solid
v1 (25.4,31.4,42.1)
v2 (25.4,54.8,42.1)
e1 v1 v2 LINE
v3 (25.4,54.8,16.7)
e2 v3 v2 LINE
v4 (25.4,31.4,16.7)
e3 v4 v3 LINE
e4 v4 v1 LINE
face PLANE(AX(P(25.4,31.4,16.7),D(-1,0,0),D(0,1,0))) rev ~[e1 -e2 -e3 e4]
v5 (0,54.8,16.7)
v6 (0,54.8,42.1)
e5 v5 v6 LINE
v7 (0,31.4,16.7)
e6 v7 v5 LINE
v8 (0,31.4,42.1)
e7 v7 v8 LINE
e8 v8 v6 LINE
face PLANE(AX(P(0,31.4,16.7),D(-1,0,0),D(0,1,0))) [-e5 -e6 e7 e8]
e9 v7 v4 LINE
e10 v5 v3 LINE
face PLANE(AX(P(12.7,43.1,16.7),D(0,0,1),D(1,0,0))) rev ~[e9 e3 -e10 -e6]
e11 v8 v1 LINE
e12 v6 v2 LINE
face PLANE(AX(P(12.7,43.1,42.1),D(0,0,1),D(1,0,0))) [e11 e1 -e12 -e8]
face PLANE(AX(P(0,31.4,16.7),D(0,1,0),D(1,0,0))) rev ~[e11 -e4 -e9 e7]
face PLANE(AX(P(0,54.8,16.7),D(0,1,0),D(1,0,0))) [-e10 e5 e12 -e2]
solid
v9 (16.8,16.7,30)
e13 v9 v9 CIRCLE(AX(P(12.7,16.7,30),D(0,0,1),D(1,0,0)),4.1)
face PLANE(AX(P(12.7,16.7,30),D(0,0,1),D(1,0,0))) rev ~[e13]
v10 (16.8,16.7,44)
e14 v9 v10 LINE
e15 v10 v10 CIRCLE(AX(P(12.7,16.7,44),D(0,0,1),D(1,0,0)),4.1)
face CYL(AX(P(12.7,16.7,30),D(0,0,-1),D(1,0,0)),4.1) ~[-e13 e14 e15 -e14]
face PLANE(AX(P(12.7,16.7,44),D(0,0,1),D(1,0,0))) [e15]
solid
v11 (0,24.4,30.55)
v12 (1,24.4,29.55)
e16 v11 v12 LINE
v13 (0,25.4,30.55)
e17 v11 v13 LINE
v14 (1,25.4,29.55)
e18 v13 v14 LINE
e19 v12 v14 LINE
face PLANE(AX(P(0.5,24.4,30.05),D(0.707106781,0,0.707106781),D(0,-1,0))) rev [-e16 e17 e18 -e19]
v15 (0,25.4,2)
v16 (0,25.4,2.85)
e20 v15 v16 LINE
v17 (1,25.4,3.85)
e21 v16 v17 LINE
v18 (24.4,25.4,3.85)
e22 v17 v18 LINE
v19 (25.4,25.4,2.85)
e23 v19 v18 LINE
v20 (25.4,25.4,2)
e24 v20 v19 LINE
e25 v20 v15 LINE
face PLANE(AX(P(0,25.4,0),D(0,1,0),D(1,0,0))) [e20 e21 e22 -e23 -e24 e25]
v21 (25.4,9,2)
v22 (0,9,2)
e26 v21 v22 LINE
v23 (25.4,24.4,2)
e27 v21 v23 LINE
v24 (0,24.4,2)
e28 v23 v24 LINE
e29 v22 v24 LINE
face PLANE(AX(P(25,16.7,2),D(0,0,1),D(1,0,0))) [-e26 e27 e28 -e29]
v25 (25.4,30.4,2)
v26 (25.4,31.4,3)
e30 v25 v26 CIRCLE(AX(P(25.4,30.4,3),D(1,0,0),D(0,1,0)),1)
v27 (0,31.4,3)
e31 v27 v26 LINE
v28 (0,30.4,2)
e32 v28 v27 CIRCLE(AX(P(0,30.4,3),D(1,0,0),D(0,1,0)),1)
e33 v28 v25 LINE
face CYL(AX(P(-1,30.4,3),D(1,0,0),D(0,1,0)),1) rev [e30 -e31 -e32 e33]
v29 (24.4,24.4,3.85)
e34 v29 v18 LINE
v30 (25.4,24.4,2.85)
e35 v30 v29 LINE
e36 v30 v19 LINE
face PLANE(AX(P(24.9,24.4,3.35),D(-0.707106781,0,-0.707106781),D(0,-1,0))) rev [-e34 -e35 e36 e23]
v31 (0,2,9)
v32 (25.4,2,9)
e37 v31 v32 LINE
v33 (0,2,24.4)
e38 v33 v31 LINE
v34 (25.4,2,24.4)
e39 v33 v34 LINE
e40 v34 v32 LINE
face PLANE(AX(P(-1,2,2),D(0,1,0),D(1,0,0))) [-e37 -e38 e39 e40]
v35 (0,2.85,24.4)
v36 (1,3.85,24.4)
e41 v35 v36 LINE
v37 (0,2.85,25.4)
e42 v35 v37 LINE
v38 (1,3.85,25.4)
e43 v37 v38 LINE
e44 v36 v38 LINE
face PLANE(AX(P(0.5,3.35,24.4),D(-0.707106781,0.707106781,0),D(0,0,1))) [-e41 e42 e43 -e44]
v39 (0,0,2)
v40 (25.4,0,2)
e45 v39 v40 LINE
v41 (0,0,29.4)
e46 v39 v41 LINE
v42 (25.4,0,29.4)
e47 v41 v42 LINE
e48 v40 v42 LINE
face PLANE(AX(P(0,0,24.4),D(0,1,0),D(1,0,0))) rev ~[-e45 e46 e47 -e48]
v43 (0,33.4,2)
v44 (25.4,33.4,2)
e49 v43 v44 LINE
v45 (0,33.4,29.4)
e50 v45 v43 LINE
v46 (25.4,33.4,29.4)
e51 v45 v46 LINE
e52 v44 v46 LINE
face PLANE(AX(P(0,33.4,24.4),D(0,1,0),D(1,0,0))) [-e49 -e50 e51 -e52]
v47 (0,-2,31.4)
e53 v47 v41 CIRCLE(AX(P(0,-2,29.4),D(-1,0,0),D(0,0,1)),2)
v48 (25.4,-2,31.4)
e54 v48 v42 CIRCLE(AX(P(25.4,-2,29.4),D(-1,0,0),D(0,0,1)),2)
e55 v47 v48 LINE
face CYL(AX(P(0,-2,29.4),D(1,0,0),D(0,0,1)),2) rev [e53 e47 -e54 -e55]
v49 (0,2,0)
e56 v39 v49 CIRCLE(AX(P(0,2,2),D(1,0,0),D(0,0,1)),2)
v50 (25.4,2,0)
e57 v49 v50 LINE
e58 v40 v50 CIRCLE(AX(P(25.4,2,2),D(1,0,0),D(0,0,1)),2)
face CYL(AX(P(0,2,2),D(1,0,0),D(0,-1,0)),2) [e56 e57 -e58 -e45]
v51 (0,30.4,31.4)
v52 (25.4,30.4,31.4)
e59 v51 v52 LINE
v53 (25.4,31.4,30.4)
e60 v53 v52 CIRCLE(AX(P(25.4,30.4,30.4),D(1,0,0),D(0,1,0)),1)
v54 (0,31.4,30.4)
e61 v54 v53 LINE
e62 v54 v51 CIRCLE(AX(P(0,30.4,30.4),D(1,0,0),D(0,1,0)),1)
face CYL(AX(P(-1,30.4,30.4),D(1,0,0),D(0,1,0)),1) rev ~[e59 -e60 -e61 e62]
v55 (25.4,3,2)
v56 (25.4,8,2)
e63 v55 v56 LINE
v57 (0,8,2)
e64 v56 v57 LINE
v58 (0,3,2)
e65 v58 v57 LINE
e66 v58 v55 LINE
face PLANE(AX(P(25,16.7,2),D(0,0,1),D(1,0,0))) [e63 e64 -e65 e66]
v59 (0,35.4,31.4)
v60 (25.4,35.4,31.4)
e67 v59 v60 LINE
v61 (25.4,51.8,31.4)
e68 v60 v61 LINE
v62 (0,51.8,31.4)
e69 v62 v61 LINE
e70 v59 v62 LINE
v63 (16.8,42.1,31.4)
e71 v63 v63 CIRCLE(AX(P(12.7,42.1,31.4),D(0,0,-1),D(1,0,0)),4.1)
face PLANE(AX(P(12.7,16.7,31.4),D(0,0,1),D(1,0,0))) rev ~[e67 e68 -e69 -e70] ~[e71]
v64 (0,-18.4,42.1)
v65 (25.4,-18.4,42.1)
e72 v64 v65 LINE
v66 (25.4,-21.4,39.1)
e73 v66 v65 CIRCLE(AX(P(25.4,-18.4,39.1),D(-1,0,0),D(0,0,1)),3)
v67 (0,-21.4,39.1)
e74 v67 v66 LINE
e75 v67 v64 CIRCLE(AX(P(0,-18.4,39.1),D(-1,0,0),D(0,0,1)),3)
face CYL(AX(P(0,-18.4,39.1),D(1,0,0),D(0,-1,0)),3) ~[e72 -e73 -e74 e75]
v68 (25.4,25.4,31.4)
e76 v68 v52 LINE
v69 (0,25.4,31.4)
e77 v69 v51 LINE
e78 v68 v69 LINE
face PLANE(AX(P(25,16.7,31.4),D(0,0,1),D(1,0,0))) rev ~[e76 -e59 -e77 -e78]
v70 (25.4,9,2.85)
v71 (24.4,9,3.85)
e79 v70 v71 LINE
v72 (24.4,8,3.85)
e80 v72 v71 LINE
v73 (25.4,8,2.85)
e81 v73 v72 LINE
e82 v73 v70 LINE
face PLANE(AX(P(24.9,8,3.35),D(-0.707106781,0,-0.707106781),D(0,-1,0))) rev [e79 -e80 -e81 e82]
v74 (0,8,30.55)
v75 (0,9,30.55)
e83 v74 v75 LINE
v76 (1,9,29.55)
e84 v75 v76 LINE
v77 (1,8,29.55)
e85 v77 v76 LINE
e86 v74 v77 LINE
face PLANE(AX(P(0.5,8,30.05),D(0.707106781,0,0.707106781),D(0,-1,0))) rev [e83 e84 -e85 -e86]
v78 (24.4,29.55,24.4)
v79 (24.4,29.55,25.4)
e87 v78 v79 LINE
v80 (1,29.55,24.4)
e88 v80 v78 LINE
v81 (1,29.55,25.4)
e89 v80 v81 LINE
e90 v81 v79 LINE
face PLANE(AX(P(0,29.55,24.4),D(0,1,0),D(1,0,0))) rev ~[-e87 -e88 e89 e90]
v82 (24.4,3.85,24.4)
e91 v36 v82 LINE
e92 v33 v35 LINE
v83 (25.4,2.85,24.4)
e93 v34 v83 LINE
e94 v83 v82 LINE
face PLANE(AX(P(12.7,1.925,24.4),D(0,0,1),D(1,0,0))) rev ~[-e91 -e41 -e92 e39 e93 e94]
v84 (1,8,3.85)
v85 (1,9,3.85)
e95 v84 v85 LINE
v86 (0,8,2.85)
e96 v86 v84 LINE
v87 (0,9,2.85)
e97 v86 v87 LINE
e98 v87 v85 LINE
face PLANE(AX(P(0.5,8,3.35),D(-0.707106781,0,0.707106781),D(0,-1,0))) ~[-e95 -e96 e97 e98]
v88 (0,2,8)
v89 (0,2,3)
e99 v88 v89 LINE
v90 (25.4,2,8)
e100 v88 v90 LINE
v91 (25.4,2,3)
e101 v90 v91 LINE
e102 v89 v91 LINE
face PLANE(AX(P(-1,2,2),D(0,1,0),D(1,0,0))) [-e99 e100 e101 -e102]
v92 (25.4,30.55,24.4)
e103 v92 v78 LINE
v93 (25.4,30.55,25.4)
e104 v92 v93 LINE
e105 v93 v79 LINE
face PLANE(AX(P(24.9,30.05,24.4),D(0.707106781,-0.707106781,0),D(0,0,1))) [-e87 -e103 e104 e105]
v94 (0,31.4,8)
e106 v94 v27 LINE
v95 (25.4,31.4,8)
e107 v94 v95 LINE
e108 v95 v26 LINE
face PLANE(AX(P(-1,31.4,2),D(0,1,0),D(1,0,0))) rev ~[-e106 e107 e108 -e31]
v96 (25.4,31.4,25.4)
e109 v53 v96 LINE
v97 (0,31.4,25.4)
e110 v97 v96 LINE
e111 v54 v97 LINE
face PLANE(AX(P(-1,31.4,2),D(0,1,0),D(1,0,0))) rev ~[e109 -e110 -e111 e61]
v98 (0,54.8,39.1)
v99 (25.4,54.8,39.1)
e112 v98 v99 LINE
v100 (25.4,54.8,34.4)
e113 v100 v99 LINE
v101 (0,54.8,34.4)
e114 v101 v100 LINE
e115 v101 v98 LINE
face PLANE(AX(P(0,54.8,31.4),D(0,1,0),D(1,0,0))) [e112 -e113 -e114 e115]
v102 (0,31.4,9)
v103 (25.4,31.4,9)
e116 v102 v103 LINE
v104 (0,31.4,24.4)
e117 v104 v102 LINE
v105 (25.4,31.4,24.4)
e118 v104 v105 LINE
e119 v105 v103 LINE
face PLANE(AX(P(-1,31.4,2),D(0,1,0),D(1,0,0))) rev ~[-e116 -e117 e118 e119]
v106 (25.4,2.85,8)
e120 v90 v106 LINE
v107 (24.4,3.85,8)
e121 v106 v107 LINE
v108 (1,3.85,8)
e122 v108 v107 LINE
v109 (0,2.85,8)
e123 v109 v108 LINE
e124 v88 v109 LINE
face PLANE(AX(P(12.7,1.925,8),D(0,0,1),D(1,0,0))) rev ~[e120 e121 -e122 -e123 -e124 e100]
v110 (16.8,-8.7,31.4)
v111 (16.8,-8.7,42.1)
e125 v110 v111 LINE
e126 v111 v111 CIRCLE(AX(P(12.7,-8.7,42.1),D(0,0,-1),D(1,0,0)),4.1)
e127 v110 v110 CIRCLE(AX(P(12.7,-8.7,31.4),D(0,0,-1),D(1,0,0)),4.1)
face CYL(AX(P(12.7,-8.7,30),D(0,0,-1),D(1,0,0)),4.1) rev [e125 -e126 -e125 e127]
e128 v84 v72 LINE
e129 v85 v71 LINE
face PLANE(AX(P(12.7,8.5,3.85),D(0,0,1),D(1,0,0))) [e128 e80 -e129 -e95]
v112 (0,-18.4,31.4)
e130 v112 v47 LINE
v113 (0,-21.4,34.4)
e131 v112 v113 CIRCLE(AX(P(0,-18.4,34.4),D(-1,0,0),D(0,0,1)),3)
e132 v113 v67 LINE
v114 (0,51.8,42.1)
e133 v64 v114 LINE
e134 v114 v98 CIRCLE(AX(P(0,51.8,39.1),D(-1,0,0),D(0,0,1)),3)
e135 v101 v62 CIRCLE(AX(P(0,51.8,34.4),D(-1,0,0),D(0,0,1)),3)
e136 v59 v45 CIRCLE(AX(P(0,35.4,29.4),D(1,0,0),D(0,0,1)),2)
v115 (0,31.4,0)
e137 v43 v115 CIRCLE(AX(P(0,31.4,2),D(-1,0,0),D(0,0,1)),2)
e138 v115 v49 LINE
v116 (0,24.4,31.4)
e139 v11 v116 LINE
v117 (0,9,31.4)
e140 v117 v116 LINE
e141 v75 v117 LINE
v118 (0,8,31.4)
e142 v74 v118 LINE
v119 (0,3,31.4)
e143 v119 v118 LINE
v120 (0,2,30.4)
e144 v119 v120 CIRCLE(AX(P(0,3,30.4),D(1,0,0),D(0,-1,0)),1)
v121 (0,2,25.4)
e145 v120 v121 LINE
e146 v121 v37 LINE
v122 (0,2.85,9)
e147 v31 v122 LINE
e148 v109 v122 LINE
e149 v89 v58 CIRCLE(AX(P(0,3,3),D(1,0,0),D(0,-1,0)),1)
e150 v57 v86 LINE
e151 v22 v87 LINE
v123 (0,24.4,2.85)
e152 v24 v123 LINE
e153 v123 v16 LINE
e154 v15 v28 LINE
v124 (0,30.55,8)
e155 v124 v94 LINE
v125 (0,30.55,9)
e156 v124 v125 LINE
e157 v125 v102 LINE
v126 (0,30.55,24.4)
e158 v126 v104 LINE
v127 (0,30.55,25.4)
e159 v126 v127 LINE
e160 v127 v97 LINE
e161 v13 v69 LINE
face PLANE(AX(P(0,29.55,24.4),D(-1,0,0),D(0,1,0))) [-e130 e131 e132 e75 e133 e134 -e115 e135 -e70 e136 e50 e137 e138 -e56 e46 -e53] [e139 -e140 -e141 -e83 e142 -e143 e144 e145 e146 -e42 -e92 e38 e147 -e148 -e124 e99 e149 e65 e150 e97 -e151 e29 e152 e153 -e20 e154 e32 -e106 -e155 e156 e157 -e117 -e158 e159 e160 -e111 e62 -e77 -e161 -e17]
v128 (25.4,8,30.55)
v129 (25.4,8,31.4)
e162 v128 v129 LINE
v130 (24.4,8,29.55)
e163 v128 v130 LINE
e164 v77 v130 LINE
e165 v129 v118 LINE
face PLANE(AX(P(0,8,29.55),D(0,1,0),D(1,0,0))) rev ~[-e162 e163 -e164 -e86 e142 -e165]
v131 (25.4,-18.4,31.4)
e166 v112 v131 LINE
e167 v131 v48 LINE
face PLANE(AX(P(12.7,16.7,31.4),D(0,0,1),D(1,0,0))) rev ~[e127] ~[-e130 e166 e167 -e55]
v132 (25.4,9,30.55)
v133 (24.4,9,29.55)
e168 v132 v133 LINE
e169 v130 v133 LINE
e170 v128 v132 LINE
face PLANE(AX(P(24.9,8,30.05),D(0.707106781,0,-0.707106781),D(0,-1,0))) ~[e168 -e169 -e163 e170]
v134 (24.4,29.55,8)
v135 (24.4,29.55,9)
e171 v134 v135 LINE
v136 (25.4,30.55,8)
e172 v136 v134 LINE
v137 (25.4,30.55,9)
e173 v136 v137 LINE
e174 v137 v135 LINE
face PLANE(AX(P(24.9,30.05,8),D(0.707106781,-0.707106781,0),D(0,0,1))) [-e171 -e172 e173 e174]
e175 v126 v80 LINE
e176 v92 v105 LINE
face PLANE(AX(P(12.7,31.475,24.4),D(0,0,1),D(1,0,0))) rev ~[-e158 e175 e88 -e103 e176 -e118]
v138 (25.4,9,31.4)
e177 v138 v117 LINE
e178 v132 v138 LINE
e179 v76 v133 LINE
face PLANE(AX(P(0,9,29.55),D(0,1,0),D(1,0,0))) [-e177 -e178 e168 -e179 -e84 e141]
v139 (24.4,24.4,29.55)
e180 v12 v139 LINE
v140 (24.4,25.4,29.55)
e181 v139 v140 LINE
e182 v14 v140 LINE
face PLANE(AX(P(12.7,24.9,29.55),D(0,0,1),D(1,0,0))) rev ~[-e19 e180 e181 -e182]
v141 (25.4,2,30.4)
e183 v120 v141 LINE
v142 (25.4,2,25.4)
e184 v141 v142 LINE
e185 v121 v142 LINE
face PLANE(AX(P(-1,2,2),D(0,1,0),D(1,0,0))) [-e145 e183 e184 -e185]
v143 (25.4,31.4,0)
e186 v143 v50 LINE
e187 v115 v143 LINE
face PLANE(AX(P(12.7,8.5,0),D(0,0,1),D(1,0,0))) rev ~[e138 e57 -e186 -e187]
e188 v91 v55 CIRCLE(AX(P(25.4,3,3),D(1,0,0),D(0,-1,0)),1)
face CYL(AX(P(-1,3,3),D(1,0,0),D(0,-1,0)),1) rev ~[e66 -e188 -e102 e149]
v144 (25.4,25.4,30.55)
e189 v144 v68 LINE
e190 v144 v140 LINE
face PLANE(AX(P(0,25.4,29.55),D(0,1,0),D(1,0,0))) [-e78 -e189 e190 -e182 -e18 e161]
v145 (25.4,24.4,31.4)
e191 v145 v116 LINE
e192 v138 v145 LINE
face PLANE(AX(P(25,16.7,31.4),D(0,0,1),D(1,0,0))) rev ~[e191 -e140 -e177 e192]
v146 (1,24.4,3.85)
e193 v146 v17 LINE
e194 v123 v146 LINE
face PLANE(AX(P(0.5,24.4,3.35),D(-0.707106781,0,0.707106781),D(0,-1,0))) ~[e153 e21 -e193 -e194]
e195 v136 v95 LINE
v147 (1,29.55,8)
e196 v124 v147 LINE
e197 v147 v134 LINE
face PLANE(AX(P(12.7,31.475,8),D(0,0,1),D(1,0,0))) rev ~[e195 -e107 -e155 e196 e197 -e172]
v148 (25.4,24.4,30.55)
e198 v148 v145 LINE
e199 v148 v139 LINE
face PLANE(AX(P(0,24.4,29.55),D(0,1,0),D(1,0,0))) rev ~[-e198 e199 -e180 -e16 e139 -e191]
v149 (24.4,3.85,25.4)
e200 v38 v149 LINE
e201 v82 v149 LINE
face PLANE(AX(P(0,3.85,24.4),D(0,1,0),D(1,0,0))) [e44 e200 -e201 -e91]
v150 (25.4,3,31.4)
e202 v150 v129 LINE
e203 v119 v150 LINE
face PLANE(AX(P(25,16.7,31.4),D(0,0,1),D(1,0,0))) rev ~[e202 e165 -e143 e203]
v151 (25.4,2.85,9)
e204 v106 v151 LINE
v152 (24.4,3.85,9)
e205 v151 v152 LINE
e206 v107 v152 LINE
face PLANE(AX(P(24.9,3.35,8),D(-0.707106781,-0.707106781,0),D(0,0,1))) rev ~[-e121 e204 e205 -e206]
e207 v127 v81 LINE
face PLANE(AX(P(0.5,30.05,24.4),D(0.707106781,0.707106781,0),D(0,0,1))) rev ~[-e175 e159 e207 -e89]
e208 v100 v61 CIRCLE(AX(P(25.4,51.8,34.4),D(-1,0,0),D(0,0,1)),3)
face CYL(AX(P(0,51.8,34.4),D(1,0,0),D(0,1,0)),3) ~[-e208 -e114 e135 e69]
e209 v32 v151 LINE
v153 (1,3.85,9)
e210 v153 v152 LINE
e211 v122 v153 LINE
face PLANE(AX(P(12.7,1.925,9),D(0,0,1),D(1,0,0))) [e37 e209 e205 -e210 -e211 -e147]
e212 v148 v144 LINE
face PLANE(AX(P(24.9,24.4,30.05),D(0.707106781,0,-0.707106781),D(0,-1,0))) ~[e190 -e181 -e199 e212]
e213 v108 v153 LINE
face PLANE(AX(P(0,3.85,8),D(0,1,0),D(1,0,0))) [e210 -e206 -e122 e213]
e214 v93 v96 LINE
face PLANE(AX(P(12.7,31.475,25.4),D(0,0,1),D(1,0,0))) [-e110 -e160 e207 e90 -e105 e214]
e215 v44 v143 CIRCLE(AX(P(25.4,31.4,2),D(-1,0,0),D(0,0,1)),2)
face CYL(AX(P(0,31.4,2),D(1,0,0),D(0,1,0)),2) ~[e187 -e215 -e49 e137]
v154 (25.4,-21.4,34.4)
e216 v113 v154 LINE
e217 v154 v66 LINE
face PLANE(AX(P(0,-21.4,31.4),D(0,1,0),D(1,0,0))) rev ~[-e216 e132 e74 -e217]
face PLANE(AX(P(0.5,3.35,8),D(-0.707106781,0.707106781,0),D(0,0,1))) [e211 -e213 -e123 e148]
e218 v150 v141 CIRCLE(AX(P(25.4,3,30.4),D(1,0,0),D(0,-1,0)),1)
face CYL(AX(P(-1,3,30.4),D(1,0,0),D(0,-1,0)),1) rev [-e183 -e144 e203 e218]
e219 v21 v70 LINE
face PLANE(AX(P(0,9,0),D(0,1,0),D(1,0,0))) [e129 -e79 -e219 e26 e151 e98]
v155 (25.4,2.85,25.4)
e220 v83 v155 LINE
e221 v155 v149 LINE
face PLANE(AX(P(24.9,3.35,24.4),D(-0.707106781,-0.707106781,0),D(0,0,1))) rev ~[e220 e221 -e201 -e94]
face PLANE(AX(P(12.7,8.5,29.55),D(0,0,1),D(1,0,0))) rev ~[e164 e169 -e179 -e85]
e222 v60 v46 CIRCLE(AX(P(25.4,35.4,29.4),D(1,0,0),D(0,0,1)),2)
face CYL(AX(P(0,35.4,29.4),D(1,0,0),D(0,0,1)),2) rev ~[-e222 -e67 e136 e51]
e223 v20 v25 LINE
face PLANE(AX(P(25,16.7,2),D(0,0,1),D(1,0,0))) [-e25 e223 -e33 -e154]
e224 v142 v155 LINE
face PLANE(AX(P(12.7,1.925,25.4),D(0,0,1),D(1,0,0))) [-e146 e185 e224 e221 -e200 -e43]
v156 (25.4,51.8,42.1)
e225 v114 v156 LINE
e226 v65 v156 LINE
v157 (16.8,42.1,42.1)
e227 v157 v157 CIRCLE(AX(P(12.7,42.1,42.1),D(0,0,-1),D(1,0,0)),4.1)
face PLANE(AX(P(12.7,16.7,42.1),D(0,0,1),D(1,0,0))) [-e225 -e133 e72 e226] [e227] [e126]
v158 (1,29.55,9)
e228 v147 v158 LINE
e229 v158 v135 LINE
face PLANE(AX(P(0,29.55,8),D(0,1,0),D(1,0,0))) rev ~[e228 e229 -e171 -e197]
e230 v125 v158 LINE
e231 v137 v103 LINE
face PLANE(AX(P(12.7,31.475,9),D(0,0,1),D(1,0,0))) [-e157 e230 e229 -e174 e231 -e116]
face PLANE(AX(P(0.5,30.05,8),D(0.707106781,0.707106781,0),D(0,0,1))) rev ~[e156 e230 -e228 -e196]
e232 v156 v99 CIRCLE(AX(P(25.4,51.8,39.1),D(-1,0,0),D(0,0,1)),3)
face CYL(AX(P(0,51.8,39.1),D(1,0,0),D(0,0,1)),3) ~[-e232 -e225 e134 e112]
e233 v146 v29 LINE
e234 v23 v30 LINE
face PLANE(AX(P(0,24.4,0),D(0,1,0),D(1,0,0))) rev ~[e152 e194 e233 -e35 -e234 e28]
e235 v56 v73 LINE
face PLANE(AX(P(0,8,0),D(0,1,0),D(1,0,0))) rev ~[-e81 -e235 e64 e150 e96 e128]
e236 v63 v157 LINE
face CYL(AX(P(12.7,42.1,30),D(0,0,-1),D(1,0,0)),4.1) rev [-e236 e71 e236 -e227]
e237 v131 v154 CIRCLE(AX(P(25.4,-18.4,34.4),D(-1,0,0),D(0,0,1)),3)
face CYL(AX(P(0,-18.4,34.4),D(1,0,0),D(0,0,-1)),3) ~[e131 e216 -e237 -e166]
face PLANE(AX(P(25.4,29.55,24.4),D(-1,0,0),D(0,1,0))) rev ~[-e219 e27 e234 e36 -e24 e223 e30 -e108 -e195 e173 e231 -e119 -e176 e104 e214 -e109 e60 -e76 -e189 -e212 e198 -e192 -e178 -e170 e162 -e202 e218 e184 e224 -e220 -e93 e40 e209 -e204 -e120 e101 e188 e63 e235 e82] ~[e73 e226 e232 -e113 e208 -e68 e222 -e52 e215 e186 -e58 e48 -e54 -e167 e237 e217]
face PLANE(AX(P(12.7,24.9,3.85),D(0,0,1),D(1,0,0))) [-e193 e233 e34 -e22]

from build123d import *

# Parameters (mm, degrees)
BOX011_W          = 25.4
BOX011_H          = 23.4
BOX011_DEPTH      = 25.4
CYLINDER001_R     = 4.1
CYLINDER001_DEPTH = 14
BOX004_W          = 25.4
BOX004_H          = 3.85
BOX004_DEPTH      = 1
BOX007_W          = 25.4
BOX007_H          = 1
BOX007_DEPTH      = 3.85
BOX006_W          = 25.4
BOX006_H          = 1
BOX006_DEPTH      = 3.85
BOX002_W          = 25.4
BOX002_H          = 3.85
BOX002_DEPTH      = 1
BOX003_W          = 25.4
BOX003_H          = 3.85
BOX003_DEPTH      = 1
BOX009_W          = 25.4
BOX009_H          = 1
BOX009_DEPTH      = 3.85
BOX008_W          = 25.4
BOX008_H          = 1
BOX008_DEPTH      = 3.85
BOX005_W          = 25.4
BOX005_H          = 3.85
BOX005_DEPTH      = 1
CYLINDER_R        = 4.1
CYLINDER_DEPTH    = 14
CYLINDER002_R     = 4.1
CYLINDER002_DEPTH = 14
BOX010_W          = 25.4
BOX010_H          = 76.2
BOX010_DEPTH      = 10.7
BOX_W             = 52
BOX_H             = 29.4
BOX_DEPTH         = 29.4
FILLET001_R       = 1
BOX001_W          = 25.4
BOX001_H          = 33.4
BOX001_DEPTH      = 33.4
FILLET_R          = 2
FILLET002_R       = 2
FILLET003_R       = 3
CHAMFER_SIZE      = 1


with BuildPart() as cube011:
    # Box011 → Box011 (new body)
    with BuildSketch(Plane(origin=(0, 31.4, 16.7), x_dir=(1, 0, 0), z_dir=(0, 0, 1))):
        with Locations((12.7, 11.7)):
            Rectangle(BOX011_W, BOX011_H)
    extrude(amount=BOX011_DEPTH)


with BuildPart() as cylinder001:
    # Cylinder001 → Cylinder001 (new body)
    with BuildSketch(Plane(origin=(12.7, 16.7, 30), x_dir=(1, 0, 0), z_dir=(0, 0, 1))):
        Circle(CYLINDER001_R)
    extrude(amount=CYLINDER001_DEPTH)


with BuildPart() as cube004:
    # Box004 → Box004 (new body)
    with BuildSketch(Plane(origin=(0, 29.55, 8), x_dir=(1, 0, 0), z_dir=(0, 0, 1))):
        with Locations((12.7, 1.925)):
            Rectangle(BOX004_W, BOX004_H)
    extrude(amount=BOX004_DEPTH)


with BuildPart() as cube007:
    # Box007 → Box007 (new body)
    with BuildSketch(Plane(origin=(0, 24.4, 0), x_dir=(1, 0, 0), z_dir=(0, 0, 1))):
        with Locations((12.7, 0.5)):
            Rectangle(BOX007_W, BOX007_H)
    extrude(amount=BOX007_DEPTH)


with BuildPart() as cube006:
    # Box006 → Box006 (new body)
    with BuildSketch(Plane(origin=(0, 8, 0), x_dir=(1, 0, 0), z_dir=(0, 0, 1))):
        with Locations((12.7, 0.5)):
            Rectangle(BOX006_W, BOX006_H)
    extrude(amount=BOX006_DEPTH)


with BuildPart() as cube002:
    # Box002 → Box002 (new body)
    with BuildSketch(Plane.XY.offset(8)):
        with Locations((12.7, 1.925)):
            Rectangle(BOX002_W, BOX002_H)
    extrude(amount=BOX002_DEPTH)


with BuildPart() as cube003:
    # Box003 → Box003 (new body)
    with BuildSketch(Plane.XY.offset(24.4)):
        with Locations((12.7, 1.925)):
            Rectangle(BOX003_W, BOX003_H)
    extrude(amount=BOX003_DEPTH)


with BuildPart() as cube009:
    # Box009 → Box009 (new body)
    with BuildSketch(Plane(origin=(0, 8, 29.55), x_dir=(1, 0, 0), z_dir=(0, 0, 1))):
        with Locations((12.7, 0.5)):
            Rectangle(BOX009_W, BOX009_H)
    extrude(amount=BOX009_DEPTH)


with BuildPart() as cube008:
    # Box008 → Box008 (new body)
    with BuildSketch(Plane(origin=(0, 24.4, 29.55), x_dir=(1, 0, 0), z_dir=(0, 0, 1))):
        with Locations((12.7, 0.5)):
            Rectangle(BOX008_W, BOX008_H)
    extrude(amount=BOX008_DEPTH)


with BuildPart() as cube005:
    # Box005 → Box005 (new body)
    with BuildSketch(Plane(origin=(0, 29.55, 24.4), x_dir=(1, 0, 0), z_dir=(0, 0, 1))):
        with Locations((12.7, 1.925)):
            Rectangle(BOX005_W, BOX005_H)
    extrude(amount=BOX005_DEPTH)


with BuildPart() as cylinder:
    # Cylinder → Cylinder (new body)
    with BuildSketch(Plane(origin=(12.7, 42.1, 30), x_dir=(1, 0, 0), z_dir=(0, 0, 1))):
        Circle(CYLINDER_R)
    extrude(amount=CYLINDER_DEPTH)


with BuildPart() as cylinder002:
    # Cylinder002 → Cylinder002 (new body)
    with BuildSketch(Plane(origin=(12.7, -8.7, 30), x_dir=(1, 0, 0), z_dir=(0, 0, 1))):
        Circle(CYLINDER002_R)
    extrude(amount=CYLINDER002_DEPTH)


with BuildPart() as cube010:
    # Box010 → Box010 (new body)
    with BuildSketch(Plane(origin=(0, -21.4, 31.4), x_dir=(1, 0, 0), z_dir=(0, 0, 1))):
        with Locations((12.7, 38.1)):
            Rectangle(BOX010_W, BOX010_H)
    extrude(amount=BOX010_DEPTH)


with BuildPart() as fillet001:
    # Box → Box (new body)
    with BuildSketch(Plane(origin=(-1, 2, 2), x_dir=(1, 0, 0), z_dir=(0, 0, 1))):
        with Locations((26, 14.7)):
            Rectangle(BOX_W, BOX_H)
    extrude(amount=BOX_DEPTH)

    # Fillet001
    fillet001_edges = [fillet001.edges().sort_by_distance(p)[0] for p in [
        (25, 2, 31.4),
        (25, 2, 2),
        (25, 31.4, 31.4),
        (25, 31.4, 2),
    ]]
    fillet(fillet001_edges, radius=FILLET001_R)


with BuildPart() as chamfer_body:
    # Box001 → Box001 (new body)
    with BuildSketch(Plane.XY):
        with Locations((12.7, 16.7)):
            Rectangle(BOX001_W, BOX001_H)
    extrude(amount=BOX001_DEPTH)

    # Fillet
    fillet_edges = [chamfer_body.edges().sort_by_distance(p)[0] for p in [
        (12.7, 33.4, 0),
        (12.7, 0, 0),
        (12.7, 0, 33.4),
        (12.7, 33.4, 33.4),
    ]]
    fillet(fillet_edges, radius=FILLET_R)

    # Cut: cut Fillet001
    add(fillet001.part, mode=Mode.SUBTRACT)

    # Fusion: union Cube010
    add(cube010.part)

    # Fillet002
    fillet002_edges = [chamfer_body.edges().sort_by_distance(p)[0] for p in [
        (12.7, 33.4, 31.4),
        (12.7, 0, 31.4),
    ]]
    fillet(fillet002_edges, radius=FILLET002_R)

    # Fillet003
    fillet003_edges = [chamfer_body.edges().sort_by_distance(p)[0] for p in [
        (12.7, -21.4, 31.4),
        (12.7, -21.4, 42.1),
        (12.7, 54.8, 31.4),
        (12.7, 54.8, 42.1),
    ]]
    fillet(fillet003_edges, radius=FILLET003_R)

    # Cut001: cut Cylinder002
    add(cylinder002.part, mode=Mode.SUBTRACT)

    # Cut002: cut Cylinder
    add(cylinder.part, mode=Mode.SUBTRACT)

    # Fusion001: union Cube004, Cube007, Cube006, Cube002, Cube003, Cube009, Cube008, Cube005
    add(cube004.part)
    add(cube007.part)
    add(cube006.part)
    add(cube002.part)
    add(cube003.part)
    add(cube009.part)
    add(cube008.part)
    add(cube005.part)

    # Chamfer
    chamfer_edges = [chamfer_body.edges().sort_by_distance(p)[0] for p in [
        (25.4, 8.5, 29.55),
        (25.4, 3.85, 24.9),
        (25.4, 3.85, 8.5),
        (25.4, 8.5, 3.85),
        (25.4, 24.9, 3.85),
        (25.4, 29.55, 8.5),
        (25.4, 29.55, 24.9),
        (25.4, 24.9, 29.55),
        (0, 29.55, 8.5),
        (0, 24.9, 3.85),
        (0, 8.5, 3.85),
        (0, 3.85, 8.5),
        (0, 3.85, 24.9),
        (0, 8.5, 29.55),
        (0, 24.9, 29.55),
        (0, 29.55, 24.9),
    ]]
    chamfer(chamfer_edges, length=CHAMFER_SIZE)


solid = Compound([cube011.part, cylinder001.part, chamfer_body.part])
